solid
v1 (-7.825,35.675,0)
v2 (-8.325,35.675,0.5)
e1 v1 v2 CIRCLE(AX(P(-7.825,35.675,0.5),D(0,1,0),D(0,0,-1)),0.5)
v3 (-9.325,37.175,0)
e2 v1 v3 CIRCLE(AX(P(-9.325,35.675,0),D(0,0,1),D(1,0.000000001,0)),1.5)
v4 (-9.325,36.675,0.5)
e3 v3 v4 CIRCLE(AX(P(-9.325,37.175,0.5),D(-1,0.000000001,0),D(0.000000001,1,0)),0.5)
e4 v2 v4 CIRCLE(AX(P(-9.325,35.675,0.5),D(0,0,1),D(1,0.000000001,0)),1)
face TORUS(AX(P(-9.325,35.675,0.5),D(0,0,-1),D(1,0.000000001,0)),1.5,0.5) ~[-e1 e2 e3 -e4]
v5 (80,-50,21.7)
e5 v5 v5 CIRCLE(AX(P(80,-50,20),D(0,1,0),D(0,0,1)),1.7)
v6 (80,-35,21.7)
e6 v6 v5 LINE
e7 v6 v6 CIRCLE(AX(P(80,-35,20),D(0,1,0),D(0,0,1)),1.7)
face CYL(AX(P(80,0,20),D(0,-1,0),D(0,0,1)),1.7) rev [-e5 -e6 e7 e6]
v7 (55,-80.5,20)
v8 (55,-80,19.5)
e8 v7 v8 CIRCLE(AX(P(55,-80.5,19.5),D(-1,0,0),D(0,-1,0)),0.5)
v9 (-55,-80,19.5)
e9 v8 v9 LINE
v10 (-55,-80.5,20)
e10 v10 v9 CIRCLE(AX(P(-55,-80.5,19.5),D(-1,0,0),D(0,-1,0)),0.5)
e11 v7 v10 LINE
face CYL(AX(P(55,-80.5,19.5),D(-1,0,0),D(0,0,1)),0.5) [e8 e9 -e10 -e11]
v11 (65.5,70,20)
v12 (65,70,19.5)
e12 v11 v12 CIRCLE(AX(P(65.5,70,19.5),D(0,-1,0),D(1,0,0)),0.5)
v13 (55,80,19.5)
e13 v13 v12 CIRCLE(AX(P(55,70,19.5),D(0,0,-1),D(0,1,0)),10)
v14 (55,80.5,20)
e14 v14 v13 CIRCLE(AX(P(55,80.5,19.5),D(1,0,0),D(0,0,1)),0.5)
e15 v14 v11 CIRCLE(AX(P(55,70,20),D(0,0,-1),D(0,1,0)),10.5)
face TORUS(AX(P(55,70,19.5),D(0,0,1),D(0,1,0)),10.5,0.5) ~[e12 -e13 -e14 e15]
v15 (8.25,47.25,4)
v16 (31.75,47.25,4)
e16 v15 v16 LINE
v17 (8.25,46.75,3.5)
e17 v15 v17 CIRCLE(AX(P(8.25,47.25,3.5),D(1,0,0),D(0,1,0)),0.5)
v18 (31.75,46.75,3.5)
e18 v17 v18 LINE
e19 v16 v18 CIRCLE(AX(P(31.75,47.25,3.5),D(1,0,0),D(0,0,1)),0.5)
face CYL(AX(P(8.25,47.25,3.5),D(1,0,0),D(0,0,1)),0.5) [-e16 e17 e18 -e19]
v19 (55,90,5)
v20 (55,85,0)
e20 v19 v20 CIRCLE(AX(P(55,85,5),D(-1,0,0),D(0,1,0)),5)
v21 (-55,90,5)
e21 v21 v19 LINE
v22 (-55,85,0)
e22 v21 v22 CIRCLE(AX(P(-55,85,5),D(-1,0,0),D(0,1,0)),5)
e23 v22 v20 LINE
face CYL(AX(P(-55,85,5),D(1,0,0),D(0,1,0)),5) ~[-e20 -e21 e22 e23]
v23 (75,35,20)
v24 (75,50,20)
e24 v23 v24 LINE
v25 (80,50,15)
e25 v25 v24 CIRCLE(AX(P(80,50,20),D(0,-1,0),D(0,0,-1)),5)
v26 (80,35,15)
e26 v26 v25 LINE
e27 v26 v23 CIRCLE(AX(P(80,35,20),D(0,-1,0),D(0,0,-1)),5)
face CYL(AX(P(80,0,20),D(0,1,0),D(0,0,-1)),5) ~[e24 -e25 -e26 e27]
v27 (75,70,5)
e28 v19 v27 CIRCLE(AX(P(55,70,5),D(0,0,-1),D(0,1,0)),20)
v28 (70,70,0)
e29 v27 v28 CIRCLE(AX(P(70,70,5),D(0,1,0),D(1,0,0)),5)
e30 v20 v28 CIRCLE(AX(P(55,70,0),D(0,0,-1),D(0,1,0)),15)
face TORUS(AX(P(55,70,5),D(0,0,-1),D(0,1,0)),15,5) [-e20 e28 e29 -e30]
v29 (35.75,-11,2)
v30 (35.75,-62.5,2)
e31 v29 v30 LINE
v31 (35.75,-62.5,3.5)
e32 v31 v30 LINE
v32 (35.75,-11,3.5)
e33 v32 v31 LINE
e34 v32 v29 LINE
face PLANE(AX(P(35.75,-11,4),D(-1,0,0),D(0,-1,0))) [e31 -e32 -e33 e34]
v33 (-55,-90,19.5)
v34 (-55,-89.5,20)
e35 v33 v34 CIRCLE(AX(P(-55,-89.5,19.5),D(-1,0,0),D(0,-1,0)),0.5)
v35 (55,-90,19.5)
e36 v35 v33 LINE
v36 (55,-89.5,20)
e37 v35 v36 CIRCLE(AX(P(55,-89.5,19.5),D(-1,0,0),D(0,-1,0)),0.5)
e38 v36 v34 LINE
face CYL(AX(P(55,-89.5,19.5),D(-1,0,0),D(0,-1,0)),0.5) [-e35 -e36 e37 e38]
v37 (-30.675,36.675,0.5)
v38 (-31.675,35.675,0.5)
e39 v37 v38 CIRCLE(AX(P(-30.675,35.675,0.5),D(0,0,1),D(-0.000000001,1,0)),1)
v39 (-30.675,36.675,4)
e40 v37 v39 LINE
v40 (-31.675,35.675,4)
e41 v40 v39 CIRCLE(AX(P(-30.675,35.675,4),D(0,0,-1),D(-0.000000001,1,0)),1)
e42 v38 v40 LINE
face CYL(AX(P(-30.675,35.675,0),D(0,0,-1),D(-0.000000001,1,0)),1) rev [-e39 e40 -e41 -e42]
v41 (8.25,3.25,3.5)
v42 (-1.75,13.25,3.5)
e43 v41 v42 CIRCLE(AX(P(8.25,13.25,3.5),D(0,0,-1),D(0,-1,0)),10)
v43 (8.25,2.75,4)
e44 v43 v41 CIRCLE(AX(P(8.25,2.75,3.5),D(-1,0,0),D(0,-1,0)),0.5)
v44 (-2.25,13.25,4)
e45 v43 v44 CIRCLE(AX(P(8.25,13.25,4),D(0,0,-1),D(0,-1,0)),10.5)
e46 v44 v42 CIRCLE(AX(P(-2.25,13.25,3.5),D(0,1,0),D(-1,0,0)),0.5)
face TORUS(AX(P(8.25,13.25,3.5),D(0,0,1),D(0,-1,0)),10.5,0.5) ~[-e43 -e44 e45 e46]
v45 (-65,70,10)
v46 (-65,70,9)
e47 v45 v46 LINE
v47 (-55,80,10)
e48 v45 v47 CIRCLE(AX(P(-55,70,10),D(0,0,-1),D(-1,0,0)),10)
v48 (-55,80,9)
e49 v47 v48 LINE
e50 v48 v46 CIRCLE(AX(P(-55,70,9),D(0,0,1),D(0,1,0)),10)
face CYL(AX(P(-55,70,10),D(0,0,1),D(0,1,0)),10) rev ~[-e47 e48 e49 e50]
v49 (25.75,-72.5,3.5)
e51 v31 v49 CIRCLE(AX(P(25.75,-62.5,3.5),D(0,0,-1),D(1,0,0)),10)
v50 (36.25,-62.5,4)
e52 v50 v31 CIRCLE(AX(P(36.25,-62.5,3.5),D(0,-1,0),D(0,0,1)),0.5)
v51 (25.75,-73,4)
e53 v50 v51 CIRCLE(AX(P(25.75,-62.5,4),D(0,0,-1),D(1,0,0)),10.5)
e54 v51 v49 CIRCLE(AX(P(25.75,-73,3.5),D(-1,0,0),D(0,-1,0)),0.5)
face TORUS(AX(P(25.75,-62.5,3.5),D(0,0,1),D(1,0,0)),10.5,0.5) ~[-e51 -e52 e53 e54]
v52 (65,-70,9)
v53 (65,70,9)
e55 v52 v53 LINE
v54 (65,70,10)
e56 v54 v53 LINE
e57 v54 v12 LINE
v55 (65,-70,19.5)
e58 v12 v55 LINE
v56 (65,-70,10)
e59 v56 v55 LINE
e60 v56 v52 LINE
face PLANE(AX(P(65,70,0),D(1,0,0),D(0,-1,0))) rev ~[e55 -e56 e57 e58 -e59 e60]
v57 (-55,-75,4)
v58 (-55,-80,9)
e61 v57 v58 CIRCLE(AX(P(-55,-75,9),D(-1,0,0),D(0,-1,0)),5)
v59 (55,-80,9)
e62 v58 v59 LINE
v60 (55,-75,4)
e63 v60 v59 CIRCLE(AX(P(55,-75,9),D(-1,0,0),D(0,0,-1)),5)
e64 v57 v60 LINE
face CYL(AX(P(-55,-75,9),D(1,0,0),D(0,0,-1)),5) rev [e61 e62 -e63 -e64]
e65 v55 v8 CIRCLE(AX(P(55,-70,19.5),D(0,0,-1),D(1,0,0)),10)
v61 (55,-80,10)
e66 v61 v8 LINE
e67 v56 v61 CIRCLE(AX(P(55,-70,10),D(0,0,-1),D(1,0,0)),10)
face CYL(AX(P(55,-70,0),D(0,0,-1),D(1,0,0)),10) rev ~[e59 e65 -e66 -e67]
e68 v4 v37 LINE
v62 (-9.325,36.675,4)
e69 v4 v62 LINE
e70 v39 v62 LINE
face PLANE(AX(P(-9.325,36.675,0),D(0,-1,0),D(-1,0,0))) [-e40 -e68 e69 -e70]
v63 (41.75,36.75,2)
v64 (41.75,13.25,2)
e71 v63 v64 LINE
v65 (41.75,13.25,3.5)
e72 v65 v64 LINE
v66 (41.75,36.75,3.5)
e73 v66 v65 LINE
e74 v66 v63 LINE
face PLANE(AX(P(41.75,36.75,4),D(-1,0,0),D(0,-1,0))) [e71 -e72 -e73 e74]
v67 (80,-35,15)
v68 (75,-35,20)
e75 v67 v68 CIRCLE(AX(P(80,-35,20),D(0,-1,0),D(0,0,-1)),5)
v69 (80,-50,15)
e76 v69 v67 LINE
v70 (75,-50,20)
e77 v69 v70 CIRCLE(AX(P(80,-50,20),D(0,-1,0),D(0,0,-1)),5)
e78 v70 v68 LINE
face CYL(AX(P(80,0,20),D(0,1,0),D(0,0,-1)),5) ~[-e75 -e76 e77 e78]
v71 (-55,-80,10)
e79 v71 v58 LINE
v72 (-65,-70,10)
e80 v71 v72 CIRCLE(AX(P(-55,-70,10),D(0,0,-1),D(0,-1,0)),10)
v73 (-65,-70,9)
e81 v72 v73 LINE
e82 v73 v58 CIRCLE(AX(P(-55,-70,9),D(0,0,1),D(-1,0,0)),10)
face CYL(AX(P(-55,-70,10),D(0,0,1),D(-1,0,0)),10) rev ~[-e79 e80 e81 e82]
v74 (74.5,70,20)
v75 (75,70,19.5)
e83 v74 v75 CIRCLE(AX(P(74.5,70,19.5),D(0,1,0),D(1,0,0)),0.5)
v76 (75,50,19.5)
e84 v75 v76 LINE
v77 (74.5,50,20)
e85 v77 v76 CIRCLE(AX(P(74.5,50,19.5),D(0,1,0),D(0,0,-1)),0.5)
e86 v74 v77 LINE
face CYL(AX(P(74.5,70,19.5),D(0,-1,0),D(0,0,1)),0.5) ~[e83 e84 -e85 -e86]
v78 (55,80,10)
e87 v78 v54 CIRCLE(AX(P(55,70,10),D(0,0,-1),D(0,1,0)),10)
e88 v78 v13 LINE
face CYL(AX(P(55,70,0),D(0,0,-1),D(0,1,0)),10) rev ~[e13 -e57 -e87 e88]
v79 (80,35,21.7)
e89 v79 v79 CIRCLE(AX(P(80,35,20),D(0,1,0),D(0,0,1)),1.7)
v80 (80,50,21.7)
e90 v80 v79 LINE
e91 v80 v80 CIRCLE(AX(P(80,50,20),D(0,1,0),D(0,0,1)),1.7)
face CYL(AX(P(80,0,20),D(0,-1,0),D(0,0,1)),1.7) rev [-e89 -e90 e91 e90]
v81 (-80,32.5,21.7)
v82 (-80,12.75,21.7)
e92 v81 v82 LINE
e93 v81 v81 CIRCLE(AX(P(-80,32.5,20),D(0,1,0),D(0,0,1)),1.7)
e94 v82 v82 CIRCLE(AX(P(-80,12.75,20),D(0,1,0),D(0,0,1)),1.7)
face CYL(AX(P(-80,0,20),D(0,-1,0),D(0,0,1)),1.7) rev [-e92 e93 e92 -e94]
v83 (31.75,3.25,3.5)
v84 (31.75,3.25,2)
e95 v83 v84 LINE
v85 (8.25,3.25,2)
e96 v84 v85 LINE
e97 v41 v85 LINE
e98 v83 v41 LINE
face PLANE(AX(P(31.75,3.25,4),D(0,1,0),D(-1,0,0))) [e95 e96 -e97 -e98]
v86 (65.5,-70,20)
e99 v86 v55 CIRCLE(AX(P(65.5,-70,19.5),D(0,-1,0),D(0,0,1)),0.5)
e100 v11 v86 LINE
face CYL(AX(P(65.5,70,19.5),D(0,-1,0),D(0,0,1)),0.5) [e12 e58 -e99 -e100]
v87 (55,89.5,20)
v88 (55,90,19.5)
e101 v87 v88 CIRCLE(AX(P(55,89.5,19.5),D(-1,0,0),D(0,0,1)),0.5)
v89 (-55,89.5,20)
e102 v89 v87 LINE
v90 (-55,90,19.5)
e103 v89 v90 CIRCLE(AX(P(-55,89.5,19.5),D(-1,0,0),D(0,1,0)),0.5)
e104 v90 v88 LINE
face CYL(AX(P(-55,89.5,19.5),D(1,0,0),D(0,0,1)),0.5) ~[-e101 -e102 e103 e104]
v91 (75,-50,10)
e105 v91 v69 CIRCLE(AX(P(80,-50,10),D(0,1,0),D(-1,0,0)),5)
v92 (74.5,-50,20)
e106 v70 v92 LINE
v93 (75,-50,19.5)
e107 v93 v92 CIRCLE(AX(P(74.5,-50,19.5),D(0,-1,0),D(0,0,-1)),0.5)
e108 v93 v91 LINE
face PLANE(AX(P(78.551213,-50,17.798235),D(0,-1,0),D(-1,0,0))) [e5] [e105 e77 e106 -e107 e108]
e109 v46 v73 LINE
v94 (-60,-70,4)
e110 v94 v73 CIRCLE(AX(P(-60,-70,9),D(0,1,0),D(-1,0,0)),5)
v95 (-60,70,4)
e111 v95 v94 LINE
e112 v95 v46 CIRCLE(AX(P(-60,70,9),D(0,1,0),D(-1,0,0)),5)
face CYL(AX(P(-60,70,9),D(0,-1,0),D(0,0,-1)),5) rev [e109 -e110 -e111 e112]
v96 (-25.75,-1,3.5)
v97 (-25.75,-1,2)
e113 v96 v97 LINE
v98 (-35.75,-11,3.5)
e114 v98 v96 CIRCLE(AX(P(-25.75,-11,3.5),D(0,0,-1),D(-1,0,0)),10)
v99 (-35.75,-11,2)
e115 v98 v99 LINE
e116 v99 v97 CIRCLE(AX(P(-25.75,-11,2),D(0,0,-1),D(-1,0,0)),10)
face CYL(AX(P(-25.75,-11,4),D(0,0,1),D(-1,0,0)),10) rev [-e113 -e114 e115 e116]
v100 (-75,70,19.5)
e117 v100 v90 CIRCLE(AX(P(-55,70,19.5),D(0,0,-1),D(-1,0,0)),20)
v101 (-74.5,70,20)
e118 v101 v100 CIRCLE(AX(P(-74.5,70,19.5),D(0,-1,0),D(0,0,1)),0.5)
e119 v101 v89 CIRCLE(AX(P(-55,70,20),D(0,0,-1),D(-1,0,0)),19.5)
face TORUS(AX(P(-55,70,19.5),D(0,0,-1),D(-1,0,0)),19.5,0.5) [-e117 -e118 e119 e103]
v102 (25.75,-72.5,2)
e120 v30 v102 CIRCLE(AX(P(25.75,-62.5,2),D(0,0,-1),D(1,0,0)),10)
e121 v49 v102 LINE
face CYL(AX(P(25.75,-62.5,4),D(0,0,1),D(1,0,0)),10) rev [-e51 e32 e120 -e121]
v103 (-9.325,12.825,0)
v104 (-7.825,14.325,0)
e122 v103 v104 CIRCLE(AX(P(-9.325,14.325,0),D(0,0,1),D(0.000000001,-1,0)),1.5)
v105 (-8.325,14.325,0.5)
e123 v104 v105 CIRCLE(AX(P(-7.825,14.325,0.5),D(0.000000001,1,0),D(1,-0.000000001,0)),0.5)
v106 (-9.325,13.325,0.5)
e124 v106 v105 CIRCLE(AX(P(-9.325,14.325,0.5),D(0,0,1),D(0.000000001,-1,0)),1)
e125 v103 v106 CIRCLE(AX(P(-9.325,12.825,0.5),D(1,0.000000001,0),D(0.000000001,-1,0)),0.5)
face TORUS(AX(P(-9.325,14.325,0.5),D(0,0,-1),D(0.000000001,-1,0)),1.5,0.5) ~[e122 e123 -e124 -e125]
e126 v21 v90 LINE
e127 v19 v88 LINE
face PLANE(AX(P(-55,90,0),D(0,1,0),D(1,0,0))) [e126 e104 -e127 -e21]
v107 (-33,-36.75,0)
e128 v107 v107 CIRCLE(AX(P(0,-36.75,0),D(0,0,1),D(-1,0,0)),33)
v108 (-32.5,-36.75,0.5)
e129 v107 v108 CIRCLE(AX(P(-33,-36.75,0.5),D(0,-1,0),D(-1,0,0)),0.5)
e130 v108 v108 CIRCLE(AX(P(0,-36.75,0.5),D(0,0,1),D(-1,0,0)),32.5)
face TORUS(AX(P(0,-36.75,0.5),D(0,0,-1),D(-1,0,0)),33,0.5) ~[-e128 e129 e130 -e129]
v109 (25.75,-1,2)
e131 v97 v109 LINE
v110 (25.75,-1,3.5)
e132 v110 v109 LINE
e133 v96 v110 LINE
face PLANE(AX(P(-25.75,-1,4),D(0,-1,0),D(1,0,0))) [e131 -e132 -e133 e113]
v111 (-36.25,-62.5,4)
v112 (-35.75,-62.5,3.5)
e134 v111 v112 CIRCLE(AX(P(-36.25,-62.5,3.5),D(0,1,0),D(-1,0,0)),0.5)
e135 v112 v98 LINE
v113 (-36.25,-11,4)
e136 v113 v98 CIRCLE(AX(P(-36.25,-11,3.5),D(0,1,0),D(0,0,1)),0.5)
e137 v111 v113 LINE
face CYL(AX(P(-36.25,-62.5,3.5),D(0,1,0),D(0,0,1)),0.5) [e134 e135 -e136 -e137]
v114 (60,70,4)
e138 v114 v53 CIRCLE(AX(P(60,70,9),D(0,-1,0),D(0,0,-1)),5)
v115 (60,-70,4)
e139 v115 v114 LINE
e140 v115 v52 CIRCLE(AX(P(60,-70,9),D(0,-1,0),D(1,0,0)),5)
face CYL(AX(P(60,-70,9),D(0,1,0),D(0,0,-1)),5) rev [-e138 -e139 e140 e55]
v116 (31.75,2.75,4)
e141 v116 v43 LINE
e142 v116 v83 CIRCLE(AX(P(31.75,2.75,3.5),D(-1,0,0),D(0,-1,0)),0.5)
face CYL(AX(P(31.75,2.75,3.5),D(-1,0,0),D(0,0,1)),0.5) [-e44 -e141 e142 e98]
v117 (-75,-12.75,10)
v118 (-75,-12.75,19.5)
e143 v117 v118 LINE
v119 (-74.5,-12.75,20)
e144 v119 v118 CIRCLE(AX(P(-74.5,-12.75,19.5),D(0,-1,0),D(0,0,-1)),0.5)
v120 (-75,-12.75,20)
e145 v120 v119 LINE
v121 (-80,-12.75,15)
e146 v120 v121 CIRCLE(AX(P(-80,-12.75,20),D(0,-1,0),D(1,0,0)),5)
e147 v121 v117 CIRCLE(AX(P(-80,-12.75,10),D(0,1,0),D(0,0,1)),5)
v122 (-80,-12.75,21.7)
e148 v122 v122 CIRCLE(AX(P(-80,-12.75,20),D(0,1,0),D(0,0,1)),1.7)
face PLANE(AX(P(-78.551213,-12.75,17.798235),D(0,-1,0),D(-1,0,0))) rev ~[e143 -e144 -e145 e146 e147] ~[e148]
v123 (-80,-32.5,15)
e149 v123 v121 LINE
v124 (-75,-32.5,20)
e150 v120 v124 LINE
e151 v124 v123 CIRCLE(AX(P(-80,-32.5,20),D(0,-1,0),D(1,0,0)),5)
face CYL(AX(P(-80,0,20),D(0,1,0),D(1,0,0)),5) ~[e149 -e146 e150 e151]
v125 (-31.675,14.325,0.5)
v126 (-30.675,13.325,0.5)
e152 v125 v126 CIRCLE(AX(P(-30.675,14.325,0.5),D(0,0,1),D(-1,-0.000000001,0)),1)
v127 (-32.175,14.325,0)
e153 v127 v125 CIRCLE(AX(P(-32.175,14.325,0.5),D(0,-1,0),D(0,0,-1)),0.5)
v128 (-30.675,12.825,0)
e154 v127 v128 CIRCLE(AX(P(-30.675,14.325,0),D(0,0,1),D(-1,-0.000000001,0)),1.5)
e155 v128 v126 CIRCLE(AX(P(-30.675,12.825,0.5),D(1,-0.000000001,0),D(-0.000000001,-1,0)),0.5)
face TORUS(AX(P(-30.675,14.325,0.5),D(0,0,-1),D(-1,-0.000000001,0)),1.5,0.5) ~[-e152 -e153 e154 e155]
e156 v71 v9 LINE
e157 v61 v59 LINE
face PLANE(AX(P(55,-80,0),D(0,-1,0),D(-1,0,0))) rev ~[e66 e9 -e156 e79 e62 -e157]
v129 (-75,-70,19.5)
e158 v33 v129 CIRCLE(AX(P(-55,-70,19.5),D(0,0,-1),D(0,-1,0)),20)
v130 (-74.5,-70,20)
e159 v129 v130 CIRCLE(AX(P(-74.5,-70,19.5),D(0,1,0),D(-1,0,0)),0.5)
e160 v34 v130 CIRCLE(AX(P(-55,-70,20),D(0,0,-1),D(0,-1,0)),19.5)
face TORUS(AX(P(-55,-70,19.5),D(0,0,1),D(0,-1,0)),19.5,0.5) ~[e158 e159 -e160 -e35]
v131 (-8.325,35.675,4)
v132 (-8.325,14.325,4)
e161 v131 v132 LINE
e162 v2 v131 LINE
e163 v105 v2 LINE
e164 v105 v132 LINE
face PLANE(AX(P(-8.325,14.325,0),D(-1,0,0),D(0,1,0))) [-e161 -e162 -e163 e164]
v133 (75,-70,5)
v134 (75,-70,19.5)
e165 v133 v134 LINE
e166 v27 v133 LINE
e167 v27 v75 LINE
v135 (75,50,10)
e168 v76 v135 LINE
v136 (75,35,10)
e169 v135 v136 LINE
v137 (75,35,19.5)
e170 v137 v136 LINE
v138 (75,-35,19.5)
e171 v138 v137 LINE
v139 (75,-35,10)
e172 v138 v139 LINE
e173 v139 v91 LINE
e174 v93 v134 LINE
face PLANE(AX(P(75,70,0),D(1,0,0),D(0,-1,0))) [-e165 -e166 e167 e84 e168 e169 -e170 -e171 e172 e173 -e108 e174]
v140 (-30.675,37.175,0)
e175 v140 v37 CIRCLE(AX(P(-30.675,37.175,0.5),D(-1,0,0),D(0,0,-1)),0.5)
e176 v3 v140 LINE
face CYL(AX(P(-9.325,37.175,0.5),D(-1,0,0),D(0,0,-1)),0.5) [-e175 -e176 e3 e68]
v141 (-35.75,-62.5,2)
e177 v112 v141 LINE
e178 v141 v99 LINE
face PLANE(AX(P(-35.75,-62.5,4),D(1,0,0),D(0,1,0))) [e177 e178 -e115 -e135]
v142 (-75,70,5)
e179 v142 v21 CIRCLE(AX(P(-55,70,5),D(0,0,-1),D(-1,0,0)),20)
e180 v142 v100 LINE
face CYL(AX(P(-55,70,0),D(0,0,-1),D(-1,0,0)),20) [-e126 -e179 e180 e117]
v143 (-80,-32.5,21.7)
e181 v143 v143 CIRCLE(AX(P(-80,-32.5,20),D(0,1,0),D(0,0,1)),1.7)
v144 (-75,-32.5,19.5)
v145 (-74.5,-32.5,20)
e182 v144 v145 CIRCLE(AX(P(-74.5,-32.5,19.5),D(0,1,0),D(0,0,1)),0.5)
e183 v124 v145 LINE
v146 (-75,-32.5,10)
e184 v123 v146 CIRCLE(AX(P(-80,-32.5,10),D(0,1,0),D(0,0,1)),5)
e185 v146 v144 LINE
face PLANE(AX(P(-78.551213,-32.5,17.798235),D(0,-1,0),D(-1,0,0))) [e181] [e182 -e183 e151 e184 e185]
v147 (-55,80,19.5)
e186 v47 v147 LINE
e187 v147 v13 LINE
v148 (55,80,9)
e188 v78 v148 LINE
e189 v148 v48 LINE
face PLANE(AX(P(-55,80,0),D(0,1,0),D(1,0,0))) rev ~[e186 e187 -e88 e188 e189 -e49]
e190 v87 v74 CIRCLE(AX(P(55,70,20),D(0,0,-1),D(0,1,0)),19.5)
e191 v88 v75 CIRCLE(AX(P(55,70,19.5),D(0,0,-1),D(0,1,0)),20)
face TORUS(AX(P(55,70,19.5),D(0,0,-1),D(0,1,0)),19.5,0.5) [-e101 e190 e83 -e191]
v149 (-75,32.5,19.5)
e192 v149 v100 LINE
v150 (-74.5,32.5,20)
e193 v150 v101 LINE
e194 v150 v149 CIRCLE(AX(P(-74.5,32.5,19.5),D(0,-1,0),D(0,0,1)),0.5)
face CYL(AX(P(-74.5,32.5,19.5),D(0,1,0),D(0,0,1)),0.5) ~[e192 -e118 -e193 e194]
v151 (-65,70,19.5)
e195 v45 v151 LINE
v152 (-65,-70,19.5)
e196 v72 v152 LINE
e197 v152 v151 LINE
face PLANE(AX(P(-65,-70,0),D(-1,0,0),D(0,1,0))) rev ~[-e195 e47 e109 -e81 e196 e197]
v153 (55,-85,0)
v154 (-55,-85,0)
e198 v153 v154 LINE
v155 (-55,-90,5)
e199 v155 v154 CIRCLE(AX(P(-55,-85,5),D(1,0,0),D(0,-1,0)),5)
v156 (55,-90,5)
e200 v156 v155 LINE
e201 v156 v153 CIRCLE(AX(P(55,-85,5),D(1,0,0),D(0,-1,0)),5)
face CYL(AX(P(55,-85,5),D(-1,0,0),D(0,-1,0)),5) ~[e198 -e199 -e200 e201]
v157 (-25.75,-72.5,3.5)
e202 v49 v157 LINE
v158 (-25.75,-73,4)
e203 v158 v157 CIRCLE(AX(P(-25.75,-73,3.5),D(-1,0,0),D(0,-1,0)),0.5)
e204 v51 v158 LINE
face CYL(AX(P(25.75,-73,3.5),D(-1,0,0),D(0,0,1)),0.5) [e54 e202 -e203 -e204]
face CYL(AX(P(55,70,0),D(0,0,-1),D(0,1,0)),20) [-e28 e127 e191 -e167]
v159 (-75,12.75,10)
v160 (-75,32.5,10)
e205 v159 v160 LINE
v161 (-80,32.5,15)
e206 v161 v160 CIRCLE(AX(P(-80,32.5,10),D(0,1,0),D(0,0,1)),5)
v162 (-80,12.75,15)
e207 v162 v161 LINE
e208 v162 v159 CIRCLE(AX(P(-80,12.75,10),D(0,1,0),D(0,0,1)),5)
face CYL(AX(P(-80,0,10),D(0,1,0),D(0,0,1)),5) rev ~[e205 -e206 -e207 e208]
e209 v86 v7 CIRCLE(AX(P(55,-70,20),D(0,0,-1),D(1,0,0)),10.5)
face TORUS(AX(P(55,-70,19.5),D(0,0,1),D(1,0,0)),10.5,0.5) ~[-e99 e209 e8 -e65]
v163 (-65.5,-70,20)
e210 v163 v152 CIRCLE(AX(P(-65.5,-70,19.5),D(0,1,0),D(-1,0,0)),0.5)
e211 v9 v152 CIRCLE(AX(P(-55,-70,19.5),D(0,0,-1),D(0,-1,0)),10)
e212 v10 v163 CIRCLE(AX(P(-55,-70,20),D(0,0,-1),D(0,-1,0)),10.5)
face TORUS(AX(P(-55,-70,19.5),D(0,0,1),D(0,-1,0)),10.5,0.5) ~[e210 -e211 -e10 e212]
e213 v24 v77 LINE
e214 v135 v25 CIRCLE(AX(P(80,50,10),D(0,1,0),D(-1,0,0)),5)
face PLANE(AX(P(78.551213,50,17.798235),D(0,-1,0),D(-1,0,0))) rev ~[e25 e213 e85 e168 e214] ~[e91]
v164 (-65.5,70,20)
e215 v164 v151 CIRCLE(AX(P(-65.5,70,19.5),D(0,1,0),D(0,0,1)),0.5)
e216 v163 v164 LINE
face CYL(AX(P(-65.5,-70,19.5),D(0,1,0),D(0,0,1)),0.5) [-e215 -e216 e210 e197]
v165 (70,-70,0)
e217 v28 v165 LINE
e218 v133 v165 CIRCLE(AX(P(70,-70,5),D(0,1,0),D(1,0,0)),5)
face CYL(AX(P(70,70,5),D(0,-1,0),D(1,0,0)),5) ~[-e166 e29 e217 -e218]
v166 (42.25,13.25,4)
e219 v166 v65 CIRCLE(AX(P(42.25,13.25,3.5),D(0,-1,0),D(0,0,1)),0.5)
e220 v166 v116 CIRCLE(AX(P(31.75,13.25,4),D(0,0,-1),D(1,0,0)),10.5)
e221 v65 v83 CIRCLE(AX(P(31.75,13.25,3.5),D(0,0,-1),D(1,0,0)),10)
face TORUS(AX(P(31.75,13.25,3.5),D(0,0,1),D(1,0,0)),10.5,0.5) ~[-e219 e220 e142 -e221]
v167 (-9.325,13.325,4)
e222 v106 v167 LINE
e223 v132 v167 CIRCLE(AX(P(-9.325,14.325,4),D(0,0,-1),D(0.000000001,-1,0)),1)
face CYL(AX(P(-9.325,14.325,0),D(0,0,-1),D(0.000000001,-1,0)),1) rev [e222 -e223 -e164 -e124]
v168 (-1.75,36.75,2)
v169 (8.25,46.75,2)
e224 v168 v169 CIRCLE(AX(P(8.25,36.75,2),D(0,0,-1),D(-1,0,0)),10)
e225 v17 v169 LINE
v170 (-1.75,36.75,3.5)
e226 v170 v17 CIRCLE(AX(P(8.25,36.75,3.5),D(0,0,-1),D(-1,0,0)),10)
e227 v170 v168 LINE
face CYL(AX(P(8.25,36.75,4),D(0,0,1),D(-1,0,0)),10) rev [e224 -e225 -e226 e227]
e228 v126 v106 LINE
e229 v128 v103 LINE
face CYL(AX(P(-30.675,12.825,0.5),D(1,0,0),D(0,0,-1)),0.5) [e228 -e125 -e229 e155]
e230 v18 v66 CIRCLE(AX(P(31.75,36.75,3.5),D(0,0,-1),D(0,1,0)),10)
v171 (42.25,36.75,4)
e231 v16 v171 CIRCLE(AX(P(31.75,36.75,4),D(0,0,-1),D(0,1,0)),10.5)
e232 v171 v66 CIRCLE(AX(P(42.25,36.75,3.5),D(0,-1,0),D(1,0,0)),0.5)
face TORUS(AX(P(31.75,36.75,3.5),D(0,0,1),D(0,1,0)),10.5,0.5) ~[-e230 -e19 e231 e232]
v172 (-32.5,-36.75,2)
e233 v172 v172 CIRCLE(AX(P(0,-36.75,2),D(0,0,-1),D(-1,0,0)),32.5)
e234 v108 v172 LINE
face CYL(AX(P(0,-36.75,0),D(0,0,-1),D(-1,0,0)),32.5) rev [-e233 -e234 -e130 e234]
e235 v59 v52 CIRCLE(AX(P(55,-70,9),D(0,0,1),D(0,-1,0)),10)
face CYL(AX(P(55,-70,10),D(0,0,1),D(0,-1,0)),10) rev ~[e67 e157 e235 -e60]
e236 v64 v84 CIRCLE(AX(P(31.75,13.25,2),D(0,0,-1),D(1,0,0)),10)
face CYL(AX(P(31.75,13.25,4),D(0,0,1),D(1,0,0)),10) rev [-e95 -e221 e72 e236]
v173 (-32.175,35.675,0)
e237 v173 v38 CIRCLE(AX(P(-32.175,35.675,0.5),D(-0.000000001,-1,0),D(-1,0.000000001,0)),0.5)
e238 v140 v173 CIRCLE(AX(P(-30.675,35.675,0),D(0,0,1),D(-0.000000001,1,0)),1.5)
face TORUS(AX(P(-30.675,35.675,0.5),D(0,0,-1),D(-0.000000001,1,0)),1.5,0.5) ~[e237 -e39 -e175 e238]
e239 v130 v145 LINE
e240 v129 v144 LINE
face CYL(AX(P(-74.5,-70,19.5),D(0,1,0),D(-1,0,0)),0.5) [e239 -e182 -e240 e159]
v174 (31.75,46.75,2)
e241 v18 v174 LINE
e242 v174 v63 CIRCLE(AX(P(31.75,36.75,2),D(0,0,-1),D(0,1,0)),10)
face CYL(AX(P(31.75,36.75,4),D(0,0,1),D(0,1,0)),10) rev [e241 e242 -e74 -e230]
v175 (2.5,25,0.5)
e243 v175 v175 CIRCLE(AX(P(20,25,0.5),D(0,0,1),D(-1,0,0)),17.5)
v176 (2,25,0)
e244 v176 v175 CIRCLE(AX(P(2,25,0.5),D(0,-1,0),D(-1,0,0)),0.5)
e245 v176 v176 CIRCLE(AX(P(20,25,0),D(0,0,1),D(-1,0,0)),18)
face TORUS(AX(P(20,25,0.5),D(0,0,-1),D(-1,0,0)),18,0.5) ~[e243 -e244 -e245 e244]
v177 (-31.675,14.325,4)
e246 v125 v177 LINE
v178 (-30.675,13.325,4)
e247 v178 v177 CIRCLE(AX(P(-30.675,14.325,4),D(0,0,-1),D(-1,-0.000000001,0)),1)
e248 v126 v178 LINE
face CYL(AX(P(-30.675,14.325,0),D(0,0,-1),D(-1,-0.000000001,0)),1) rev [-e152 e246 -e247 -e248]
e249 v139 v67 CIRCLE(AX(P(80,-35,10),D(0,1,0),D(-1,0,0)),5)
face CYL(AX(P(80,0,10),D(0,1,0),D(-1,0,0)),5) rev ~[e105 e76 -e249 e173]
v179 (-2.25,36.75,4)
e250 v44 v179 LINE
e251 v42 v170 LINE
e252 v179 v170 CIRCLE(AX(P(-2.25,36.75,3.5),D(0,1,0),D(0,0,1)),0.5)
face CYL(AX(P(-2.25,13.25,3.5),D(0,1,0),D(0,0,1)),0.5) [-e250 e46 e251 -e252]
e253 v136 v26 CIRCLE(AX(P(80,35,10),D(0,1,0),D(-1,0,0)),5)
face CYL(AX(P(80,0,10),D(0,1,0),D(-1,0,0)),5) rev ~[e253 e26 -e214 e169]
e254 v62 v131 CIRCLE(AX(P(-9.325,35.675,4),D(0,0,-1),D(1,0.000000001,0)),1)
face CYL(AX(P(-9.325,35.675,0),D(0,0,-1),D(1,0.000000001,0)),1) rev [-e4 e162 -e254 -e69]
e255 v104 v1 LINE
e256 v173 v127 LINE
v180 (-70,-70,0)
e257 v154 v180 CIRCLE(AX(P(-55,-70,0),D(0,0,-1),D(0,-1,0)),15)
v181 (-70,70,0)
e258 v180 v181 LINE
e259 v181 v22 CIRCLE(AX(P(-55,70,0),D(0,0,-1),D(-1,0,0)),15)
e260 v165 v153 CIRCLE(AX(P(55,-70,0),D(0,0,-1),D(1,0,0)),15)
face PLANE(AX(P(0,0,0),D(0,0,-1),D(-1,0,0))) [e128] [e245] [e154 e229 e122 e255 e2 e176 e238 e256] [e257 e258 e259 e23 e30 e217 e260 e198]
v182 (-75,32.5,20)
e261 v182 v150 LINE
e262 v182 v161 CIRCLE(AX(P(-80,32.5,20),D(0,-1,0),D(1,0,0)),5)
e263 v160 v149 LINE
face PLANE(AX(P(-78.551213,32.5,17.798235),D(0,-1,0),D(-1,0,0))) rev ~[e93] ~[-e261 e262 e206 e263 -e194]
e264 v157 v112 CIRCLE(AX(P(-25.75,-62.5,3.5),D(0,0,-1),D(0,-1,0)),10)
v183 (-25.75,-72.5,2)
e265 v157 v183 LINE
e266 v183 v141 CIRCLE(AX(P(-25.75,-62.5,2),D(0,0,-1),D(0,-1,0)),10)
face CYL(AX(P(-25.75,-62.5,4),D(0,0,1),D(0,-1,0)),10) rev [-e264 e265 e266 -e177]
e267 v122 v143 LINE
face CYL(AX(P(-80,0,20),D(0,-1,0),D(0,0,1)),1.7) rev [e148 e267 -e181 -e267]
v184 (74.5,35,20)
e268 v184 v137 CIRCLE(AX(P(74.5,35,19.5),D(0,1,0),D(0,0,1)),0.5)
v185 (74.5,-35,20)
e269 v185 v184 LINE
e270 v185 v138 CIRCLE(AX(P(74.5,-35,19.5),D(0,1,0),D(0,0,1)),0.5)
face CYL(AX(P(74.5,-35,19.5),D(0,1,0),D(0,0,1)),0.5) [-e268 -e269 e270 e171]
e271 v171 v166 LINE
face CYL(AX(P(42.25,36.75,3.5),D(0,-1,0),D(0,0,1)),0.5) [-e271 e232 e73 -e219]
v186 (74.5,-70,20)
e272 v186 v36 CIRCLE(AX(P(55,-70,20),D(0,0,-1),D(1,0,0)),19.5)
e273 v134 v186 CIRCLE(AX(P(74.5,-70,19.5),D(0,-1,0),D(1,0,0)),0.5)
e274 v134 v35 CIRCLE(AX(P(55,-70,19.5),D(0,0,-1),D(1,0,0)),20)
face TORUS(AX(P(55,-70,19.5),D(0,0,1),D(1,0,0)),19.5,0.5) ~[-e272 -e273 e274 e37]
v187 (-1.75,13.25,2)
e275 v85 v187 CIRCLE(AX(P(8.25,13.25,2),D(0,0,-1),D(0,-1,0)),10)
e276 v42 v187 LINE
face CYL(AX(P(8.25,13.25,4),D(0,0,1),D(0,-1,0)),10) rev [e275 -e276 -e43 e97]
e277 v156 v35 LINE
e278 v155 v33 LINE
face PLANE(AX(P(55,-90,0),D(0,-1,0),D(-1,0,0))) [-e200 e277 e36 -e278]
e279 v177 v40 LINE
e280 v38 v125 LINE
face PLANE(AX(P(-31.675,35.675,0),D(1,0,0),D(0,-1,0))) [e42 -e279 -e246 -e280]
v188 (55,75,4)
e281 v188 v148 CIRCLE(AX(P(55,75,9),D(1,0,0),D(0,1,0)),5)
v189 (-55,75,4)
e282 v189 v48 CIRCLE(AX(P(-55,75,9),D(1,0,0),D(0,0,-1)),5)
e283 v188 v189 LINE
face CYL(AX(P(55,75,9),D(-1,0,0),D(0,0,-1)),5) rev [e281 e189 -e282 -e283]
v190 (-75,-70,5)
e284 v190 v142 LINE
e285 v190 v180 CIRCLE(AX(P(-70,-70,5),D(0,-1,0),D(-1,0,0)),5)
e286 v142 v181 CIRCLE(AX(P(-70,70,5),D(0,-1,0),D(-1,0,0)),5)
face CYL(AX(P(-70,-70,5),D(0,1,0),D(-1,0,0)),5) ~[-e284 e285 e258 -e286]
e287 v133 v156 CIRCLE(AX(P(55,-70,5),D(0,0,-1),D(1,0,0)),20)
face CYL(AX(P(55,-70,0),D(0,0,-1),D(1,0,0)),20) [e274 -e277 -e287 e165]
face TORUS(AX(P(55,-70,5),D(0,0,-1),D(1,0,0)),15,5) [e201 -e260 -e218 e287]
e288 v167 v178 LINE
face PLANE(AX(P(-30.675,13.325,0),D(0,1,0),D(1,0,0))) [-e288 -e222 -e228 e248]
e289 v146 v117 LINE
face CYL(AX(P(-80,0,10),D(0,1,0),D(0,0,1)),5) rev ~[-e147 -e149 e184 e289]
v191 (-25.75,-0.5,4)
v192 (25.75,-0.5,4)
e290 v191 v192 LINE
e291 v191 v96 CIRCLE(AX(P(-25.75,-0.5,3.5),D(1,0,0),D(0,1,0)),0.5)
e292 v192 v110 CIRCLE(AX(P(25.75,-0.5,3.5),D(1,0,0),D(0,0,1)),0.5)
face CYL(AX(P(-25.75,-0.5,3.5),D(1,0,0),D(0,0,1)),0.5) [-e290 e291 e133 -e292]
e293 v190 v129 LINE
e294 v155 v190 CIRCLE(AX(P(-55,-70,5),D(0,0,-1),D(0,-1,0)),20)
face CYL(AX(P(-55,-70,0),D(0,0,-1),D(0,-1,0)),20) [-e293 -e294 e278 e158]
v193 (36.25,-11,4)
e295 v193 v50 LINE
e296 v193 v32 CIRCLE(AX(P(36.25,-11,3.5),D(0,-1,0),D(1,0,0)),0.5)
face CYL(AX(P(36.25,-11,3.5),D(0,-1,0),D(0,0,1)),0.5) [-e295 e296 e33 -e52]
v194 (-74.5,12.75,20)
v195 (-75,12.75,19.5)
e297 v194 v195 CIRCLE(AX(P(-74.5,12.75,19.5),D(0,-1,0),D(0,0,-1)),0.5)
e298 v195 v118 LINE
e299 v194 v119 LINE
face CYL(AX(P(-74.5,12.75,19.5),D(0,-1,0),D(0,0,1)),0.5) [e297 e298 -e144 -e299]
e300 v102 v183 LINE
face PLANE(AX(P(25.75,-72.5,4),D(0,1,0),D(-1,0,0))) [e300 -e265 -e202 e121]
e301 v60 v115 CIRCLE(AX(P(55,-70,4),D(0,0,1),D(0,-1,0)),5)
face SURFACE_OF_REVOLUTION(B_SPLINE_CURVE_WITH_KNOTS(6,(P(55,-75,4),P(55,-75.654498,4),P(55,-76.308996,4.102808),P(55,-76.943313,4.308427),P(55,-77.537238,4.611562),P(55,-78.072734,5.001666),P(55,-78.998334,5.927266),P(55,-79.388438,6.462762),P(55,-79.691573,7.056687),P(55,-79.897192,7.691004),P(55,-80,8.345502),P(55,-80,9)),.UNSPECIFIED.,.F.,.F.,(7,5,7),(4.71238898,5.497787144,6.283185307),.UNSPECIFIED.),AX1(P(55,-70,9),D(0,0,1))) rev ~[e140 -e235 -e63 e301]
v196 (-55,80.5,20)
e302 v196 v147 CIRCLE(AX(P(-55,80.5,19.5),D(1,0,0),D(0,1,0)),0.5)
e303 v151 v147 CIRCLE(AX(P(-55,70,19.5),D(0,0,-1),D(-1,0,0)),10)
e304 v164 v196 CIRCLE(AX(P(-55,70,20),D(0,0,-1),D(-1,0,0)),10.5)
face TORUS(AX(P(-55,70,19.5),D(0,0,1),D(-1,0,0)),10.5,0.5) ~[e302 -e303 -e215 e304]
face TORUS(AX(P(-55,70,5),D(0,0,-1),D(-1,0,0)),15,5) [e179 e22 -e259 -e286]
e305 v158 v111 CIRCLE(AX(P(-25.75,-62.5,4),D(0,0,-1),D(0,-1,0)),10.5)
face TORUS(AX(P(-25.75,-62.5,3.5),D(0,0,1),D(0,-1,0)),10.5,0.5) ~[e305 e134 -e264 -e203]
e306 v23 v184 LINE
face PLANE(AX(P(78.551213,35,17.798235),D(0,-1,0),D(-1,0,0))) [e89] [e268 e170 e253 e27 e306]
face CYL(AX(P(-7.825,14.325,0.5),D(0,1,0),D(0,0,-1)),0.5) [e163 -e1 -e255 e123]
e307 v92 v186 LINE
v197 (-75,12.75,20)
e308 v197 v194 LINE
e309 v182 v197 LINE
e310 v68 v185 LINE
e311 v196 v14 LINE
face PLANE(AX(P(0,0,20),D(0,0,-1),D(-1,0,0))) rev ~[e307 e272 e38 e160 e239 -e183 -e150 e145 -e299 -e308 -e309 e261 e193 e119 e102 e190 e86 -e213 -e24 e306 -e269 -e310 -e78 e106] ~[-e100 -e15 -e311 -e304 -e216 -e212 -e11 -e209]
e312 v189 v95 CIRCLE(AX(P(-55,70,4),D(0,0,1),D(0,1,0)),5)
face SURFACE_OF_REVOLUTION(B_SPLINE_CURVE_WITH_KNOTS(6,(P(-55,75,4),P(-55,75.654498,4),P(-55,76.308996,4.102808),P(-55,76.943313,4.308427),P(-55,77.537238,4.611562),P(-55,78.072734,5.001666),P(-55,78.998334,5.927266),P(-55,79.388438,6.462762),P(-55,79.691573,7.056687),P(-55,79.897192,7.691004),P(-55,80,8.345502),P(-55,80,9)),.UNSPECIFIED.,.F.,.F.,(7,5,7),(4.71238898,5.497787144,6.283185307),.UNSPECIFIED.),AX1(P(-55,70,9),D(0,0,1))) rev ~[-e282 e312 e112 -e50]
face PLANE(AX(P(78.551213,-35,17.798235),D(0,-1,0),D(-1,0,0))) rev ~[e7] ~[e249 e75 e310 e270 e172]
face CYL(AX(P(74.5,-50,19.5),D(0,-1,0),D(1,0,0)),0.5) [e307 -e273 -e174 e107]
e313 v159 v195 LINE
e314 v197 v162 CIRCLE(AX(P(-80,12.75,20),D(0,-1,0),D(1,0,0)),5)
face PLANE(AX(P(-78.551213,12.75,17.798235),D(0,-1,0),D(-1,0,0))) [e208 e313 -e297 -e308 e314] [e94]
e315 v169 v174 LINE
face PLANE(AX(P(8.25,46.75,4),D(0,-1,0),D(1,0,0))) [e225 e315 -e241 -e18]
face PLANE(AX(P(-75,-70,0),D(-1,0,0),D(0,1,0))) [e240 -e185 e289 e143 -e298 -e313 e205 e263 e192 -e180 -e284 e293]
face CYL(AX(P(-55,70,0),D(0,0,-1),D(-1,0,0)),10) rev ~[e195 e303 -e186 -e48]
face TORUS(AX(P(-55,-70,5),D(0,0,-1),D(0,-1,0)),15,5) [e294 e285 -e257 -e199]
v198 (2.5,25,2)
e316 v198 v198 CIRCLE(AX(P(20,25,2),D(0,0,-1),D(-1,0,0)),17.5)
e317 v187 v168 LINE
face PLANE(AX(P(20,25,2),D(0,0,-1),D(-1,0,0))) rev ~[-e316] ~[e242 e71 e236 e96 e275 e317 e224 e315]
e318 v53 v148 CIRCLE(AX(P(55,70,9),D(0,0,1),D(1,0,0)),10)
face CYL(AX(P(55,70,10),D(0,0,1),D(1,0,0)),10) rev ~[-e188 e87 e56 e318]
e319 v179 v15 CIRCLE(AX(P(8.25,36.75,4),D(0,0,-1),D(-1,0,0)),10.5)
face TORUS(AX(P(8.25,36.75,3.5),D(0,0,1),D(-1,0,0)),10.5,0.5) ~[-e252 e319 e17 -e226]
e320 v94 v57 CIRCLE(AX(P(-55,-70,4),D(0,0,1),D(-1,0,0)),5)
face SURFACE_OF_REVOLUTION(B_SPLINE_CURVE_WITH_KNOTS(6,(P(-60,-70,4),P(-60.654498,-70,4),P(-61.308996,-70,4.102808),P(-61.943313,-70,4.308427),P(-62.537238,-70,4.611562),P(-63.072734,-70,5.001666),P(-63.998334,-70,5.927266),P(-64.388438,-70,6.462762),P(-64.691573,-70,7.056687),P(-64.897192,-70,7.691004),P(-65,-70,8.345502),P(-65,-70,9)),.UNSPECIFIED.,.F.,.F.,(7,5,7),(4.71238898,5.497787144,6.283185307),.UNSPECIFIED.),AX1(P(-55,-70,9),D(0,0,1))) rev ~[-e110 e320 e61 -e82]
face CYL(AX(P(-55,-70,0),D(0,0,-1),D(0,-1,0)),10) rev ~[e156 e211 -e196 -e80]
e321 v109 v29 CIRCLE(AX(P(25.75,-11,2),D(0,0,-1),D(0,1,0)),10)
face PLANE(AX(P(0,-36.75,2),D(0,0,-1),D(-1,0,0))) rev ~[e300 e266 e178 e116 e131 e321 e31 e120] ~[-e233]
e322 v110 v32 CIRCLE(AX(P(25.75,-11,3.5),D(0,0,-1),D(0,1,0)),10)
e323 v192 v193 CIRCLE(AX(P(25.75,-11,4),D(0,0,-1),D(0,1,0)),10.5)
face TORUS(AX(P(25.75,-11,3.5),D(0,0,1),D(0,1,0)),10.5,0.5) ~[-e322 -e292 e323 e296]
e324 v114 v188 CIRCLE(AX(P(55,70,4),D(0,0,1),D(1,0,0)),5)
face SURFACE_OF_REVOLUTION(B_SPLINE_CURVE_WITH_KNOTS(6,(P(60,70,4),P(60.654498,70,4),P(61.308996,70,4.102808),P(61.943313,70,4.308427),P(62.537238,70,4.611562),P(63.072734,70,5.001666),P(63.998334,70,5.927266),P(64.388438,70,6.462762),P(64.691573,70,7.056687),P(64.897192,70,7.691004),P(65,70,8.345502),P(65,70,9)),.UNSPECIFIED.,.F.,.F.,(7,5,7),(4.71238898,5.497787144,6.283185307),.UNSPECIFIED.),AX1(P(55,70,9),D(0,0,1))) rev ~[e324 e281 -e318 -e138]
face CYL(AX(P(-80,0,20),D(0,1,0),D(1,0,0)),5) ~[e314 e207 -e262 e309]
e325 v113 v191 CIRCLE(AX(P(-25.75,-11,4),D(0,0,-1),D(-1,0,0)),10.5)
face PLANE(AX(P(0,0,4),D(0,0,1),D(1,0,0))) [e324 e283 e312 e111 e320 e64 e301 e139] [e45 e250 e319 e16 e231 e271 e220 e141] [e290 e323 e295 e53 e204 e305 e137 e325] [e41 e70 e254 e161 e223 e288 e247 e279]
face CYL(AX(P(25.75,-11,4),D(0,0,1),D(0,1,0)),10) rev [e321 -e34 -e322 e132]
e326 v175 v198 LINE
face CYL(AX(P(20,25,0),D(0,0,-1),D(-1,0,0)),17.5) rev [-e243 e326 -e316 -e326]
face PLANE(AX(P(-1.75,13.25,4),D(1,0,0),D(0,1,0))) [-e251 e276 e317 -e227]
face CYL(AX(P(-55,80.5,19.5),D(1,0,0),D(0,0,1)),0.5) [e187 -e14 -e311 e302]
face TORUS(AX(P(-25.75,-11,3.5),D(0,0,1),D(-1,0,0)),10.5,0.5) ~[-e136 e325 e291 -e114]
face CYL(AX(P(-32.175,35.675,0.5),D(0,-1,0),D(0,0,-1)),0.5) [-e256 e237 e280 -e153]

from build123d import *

# Parameters (mm, degrees)
BOSS_EXTRUDE1_DEPTH      = 20
SHELL1_T                 = -10
SHELL1_THICKNESS_2_DEPTH = 6
SKETCH3_R                = 32.5
CUT_EXTRUDE5_DEPTH       = 119.84864324
CUT_EXTRUDE6_DEPTH       = 119.84864324
SKETCH5_R                = 17.5
CUT_EXTRUDE7_DEPTH       = 119.84864324
SKETCH6_R                = 1.7
BOSS_EXTRUDE2_DEPTH      = 50
SKETCH6_2_R              = 1.7
CUT_EXTRUDE8_DEPTH       = 35
SKETCH9_R                = 1.7
BOSS_EXTRUDE3_DEPTH      = 32.5
SKETCH9_2_R              = 1.7
CUT_EXTRUDE10_DEPTH      = 12.75
CUT_EXTRUDE9_DEPTH       = 2
FILLET1_R                = 5
FILLET2_R                = 0.5


with BuildPart() as part:
    # Sketch1 → Boss-Extrude1 (new body)
    with BuildSketch(Plane.XY):
        with BuildLine():
            Line((55, -90), (-55, -90))
            ThreePointArc((-55, -90), (-69.142135624, -84.142135624), (-75, -70))
            Line((-75, -70), (-75, 70))
            ThreePointArc((-75, 70), (-69.142135624, 84.142135624), (-55, 90))
            Line((-55, 90), (55, 90))
            ThreePointArc((55, 90), (69.142135624, 84.142135624), (75, 70))
            Line((75, 70), (75, -70))
            ThreePointArc((75, -70), (69.142135624, -84.142135624), (55, -90))
        make_face()
    extrude(amount=BOSS_EXTRUDE1_DEPTH)

    # Shell1
    shell1_openings = [part.faces().sort_by_distance(p)[0] for p in [
        (0, 0, 20),
    ]]
    offset(amount=SHELL1_T, openings=shell1_openings, kind=Kind.INTERSECTION)

    # Shell1 thickness 2 face (on inner face of the shell) → Shell1 thickness 2 (cut)
    with BuildSketch(Plane(origin=(0, 0, 10), x_dir=(-1, 0, 0), z_dir=(0, 0, -1))):
        with BuildLine():
            ThreePointArc((-55, -80), (-62.071067812, -77.071067812), (-65, -70))
            Line((-65, -70), (-65, 70))
            ThreePointArc((-65, 70), (-62.071067812, 77.071067812), (-55, 80))
            Line((-55, 80), (55, 80))
            ThreePointArc((55, 80), (62.071067812, 77.071067812), (65, 70))
            Line((65, 70), (65, -70))
            ThreePointArc((65, -70), (62.071067812, -77.071067812), (55, -80))
            Line((55, -80), (-55, -80))
        make_face()
    extrude(amount=SHELL1_THICKNESS_2_DEPTH, mode=Mode.SUBTRACT)

    # Sketch3 → Cut-Extrude5 (cut, through all)
    with BuildSketch(Plane.XY):
        with Locations((0, -36.75)):
            Circle(SKETCH3_R)
    extrude(amount=CUT_EXTRUDE5_DEPTH, mode=Mode.SUBTRACT)

    # Sketch4 → Cut-Extrude6 (cut, through all)
    with BuildSketch(Plane.XY):
        with BuildLine():
            Line((-30.675, 13.325), (-9.325, 13.325))
            ThreePointArc((-9.325, 13.325), (-8.617893219, 13.617893219), (-8.325, 14.325))
            Line((-8.325, 14.325), (-8.325, 35.675))
            ThreePointArc((-8.325, 35.675), (-8.617893219, 36.382106781), (-9.325, 36.675))
            Line((-9.325, 36.675), (-30.675, 36.675))
            ThreePointArc((-30.675, 36.675), (-31.382106781, 36.382106781), (-31.675, 35.675))
            Line((-31.675, 35.675), (-31.675, 14.325))
            ThreePointArc((-31.675, 14.325), (-31.382106781, 13.617893219), (-30.675, 13.325))
        make_face()
    extrude(amount=CUT_EXTRUDE6_DEPTH, mode=Mode.SUBTRACT)

    # Sketch5 → Cut-Extrude7 (cut, through all)
    with BuildSketch(Plane.XY):
        with Locations((20, 25)):
            Circle(SKETCH5_R)
    extrude(amount=CUT_EXTRUDE7_DEPTH, mode=Mode.SUBTRACT)

    # Sketch6 → Boss-Extrude2 (add, symmetric)
    with BuildSketch(Plane(origin=(0, 0, 0), x_dir=(1, 0, 0), z_dir=(0, 1, 0))):
        with BuildLine():
            Line((75, -20), (75, -10))
            ThreePointArc((75, -10), (76.464466094, -13.535533906), (80, -15))
            ThreePointArc((80, -15), (83.535533906, -23.535533906), (75, -20))
        make_face()
        with Locations((80, -20)):
            Circle(SKETCH6_R, mode=Mode.SUBTRACT)
    extrude(amount=BOSS_EXTRUDE2_DEPTH, both=True)

    # Sketch6<2> → Cut-Extrude8 (cut, symmetric)
    with BuildSketch(Plane(origin=(0, 0, 0), x_dir=(1, 0, 0), z_dir=(0, 1, 0))):
        with BuildLine():
            Line((75, -20), (75, -10))
            ThreePointArc((75, -10), (76.464466094, -13.535533906), (80, -15))
            ThreePointArc((80, -15), (83.535533906, -23.535533906), (75, -20))
        make_face()
        with Locations((80, -20)):
            Circle(SKETCH6_2_R, mode=Mode.SUBTRACT)
    extrude(amount=CUT_EXTRUDE8_DEPTH, both=True, mode=Mode.SUBTRACT)

    # Sketch9 → Boss-Extrude3 (add, symmetric)
    with BuildSketch(Plane(origin=(0, 0, 0), x_dir=(1, 0, 0), z_dir=(0, 1, 0))):
        with BuildLine():
            Line((-75, -10), (-75, -20))
            ThreePointArc((-75, -20), (-83.535533906, -23.535533906), (-80, -15))
            ThreePointArc((-80, -15), (-76.464466094, -13.535533906), (-75, -10))
        make_face()
        with Locations((-80, -20)):
            Circle(SKETCH9_R, mode=Mode.SUBTRACT)
    extrude(amount=BOSS_EXTRUDE3_DEPTH, both=True)

    # Sketch9<2> → Cut-Extrude10 (cut, symmetric)
    with BuildSketch(Plane(origin=(0, 0, 0), x_dir=(1, 0, 0), z_dir=(0, 1, 0))):
        with BuildLine():
            Line((-75, -10), (-75, -20))
            ThreePointArc((-75, -20), (-83.535533906, -23.535533906), (-80, -15))
            ThreePointArc((-80, -15), (-76.464466094, -13.535533906), (-75, -10))
        make_face()
        with Locations((-80, -20)):
            Circle(SKETCH9_2_R, mode=Mode.SUBTRACT)
    extrude(amount=CUT_EXTRUDE10_DEPTH, both=True, mode=Mode.SUBTRACT)

    # Sketch7 → Cut-Extrude9 (cut)
    with BuildSketch(Plane.XY.offset(4)):
        with BuildLine():
            Line((-25.75, -1), (25.75, -1))
            ThreePointArc((25.75, -1), (32.821067812, -3.928932188), (35.75, -11))
            Line((35.75, -11), (35.75, -62.5))
            ThreePointArc((35.75, -62.5), (32.821067812, -69.571067812), (25.75, -72.5))
            Line((25.75, -72.5), (-25.75, -72.5))
            ThreePointArc((-25.75, -72.5), (-32.821067812, -69.571067812), (-35.75, -62.5))
            Line((-35.75, -62.5), (-35.75, -11))
            ThreePointArc((-35.75, -11), (-32.821067812, -3.928932188), (-25.75, -1))
        make_face()
        with BuildLine():
            Line((8.25, 46.75), (31.75, 46.75))
            ThreePointArc((31.75, 46.75), (38.821067812, 43.821067812), (41.75, 36.75))
            Line((41.75, 36.75), (41.75, 13.25))
            ThreePointArc((41.75, 13.25), (38.821067812, 6.178932188), (31.75, 3.25))
            Line((31.75, 3.25), (8.25, 3.25))
            ThreePointArc((8.25, 3.25), (1.178932188, 6.178932188), (-1.75, 13.25))
            Line((-1.75, 13.25), (-1.75, 36.75))
            ThreePointArc((-1.75, 36.75), (1.178932188, 43.821067812), (8.25, 46.75))
        make_face()
    extrude(amount=-CUT_EXTRUDE9_DEPTH, mode=Mode.SUBTRACT)

    # Fillet1
    fillet1_edges = [part.edges().sort_by_distance(p)[0] for p in [
        (75, 0, 0),
        (69.142135624, -84.142135624, 0),
        (0, -90, 0),
        (-69.142135624, -84.142135624, 0),
        (-75, 0, 0),
        (-69.142135624, 84.142135624, 0),
        (0, 90, 0),
        (69.142135624, 84.142135624, 0),
        (0, 80, 4),
        (62.071067812, 77.071067812, 4),
        (65, 0, 4),
        (62.071067812, -77.071067812, 4),
        (0, -80, 4),
        (-62.071067812, -77.071067812, 4),
        (-65, 0, 4),
        (-62.071067812, 77.071067812, 4),
    ]]
    fillet(fillet1_edges, radius=FILLET1_R)

    # Fillet2
    fillet2_edges = [part.edges().sort_by_distance(p)[0] for p in [
        (-8.617893219, 13.617893219, 0),
        (-20, 13.325, 0),
        (-31.382106781, 13.617893219, 0),
        (-31.675, 25, 0),
        (-31.382106781, 36.382106781, 0),
        (-20, 36.675, 0),
        (-8.617893219, 36.382106781, 0),
        (75, 60, 20),
        (69.142135624, 84.142135624, 20),
        (0, 90, 20),
        (-69.142135624, 84.142135624, 20),
        (75, -60, 20),
        (69.142135624, -84.142135624, 20),
        (0, -90, 20),
        (-69.142135624, -84.142135624, 20),
        (-62.071067812, 77.071067812, 20),
        (0, 80, 20),
        (62.071067812, 77.071067812, 20),
        (65, 0, 20),
        (62.071067812, -77.071067812, 20),
        (0, -80, 20),
        (-62.071067812, -77.071067812, 20),
        (-8.325, 25, 0),
        (2.5, 25, 0),
        (75, 0, 20),
        (-75, 51.25, 20),
        (-75, -51.25, 20),
        (-75, 0, 20),
        (-65, 0, 20),
        (-32.5, -36.75, 0),
        (1.178932188, 43.821067812, 4),
        (20, 46.75, 4),
        (38.821067812, 43.821067812, 4),
        (41.75, 25, 4),
        (38.821067812, 6.178932188, 4),
        (20, 3.25, 4),
        (1.178932188, 6.178932188, 4),
        (32.821067812, -3.928932188, 4),
        (35.75, -36.75, 4),
        (32.821067812, -69.571067812, 4),
        (0, -72.5, 4),
        (-32.821067812, -69.571067812, 4),
        (-35.75, -36.75, 4),
        (-32.821067812, -3.928932188, 4),
        (-1.75, 25, 4),
        (0, -1, 4),
    ]]
    fillet(fillet2_edges, radius=FILLET2_R)


solid = part.part
